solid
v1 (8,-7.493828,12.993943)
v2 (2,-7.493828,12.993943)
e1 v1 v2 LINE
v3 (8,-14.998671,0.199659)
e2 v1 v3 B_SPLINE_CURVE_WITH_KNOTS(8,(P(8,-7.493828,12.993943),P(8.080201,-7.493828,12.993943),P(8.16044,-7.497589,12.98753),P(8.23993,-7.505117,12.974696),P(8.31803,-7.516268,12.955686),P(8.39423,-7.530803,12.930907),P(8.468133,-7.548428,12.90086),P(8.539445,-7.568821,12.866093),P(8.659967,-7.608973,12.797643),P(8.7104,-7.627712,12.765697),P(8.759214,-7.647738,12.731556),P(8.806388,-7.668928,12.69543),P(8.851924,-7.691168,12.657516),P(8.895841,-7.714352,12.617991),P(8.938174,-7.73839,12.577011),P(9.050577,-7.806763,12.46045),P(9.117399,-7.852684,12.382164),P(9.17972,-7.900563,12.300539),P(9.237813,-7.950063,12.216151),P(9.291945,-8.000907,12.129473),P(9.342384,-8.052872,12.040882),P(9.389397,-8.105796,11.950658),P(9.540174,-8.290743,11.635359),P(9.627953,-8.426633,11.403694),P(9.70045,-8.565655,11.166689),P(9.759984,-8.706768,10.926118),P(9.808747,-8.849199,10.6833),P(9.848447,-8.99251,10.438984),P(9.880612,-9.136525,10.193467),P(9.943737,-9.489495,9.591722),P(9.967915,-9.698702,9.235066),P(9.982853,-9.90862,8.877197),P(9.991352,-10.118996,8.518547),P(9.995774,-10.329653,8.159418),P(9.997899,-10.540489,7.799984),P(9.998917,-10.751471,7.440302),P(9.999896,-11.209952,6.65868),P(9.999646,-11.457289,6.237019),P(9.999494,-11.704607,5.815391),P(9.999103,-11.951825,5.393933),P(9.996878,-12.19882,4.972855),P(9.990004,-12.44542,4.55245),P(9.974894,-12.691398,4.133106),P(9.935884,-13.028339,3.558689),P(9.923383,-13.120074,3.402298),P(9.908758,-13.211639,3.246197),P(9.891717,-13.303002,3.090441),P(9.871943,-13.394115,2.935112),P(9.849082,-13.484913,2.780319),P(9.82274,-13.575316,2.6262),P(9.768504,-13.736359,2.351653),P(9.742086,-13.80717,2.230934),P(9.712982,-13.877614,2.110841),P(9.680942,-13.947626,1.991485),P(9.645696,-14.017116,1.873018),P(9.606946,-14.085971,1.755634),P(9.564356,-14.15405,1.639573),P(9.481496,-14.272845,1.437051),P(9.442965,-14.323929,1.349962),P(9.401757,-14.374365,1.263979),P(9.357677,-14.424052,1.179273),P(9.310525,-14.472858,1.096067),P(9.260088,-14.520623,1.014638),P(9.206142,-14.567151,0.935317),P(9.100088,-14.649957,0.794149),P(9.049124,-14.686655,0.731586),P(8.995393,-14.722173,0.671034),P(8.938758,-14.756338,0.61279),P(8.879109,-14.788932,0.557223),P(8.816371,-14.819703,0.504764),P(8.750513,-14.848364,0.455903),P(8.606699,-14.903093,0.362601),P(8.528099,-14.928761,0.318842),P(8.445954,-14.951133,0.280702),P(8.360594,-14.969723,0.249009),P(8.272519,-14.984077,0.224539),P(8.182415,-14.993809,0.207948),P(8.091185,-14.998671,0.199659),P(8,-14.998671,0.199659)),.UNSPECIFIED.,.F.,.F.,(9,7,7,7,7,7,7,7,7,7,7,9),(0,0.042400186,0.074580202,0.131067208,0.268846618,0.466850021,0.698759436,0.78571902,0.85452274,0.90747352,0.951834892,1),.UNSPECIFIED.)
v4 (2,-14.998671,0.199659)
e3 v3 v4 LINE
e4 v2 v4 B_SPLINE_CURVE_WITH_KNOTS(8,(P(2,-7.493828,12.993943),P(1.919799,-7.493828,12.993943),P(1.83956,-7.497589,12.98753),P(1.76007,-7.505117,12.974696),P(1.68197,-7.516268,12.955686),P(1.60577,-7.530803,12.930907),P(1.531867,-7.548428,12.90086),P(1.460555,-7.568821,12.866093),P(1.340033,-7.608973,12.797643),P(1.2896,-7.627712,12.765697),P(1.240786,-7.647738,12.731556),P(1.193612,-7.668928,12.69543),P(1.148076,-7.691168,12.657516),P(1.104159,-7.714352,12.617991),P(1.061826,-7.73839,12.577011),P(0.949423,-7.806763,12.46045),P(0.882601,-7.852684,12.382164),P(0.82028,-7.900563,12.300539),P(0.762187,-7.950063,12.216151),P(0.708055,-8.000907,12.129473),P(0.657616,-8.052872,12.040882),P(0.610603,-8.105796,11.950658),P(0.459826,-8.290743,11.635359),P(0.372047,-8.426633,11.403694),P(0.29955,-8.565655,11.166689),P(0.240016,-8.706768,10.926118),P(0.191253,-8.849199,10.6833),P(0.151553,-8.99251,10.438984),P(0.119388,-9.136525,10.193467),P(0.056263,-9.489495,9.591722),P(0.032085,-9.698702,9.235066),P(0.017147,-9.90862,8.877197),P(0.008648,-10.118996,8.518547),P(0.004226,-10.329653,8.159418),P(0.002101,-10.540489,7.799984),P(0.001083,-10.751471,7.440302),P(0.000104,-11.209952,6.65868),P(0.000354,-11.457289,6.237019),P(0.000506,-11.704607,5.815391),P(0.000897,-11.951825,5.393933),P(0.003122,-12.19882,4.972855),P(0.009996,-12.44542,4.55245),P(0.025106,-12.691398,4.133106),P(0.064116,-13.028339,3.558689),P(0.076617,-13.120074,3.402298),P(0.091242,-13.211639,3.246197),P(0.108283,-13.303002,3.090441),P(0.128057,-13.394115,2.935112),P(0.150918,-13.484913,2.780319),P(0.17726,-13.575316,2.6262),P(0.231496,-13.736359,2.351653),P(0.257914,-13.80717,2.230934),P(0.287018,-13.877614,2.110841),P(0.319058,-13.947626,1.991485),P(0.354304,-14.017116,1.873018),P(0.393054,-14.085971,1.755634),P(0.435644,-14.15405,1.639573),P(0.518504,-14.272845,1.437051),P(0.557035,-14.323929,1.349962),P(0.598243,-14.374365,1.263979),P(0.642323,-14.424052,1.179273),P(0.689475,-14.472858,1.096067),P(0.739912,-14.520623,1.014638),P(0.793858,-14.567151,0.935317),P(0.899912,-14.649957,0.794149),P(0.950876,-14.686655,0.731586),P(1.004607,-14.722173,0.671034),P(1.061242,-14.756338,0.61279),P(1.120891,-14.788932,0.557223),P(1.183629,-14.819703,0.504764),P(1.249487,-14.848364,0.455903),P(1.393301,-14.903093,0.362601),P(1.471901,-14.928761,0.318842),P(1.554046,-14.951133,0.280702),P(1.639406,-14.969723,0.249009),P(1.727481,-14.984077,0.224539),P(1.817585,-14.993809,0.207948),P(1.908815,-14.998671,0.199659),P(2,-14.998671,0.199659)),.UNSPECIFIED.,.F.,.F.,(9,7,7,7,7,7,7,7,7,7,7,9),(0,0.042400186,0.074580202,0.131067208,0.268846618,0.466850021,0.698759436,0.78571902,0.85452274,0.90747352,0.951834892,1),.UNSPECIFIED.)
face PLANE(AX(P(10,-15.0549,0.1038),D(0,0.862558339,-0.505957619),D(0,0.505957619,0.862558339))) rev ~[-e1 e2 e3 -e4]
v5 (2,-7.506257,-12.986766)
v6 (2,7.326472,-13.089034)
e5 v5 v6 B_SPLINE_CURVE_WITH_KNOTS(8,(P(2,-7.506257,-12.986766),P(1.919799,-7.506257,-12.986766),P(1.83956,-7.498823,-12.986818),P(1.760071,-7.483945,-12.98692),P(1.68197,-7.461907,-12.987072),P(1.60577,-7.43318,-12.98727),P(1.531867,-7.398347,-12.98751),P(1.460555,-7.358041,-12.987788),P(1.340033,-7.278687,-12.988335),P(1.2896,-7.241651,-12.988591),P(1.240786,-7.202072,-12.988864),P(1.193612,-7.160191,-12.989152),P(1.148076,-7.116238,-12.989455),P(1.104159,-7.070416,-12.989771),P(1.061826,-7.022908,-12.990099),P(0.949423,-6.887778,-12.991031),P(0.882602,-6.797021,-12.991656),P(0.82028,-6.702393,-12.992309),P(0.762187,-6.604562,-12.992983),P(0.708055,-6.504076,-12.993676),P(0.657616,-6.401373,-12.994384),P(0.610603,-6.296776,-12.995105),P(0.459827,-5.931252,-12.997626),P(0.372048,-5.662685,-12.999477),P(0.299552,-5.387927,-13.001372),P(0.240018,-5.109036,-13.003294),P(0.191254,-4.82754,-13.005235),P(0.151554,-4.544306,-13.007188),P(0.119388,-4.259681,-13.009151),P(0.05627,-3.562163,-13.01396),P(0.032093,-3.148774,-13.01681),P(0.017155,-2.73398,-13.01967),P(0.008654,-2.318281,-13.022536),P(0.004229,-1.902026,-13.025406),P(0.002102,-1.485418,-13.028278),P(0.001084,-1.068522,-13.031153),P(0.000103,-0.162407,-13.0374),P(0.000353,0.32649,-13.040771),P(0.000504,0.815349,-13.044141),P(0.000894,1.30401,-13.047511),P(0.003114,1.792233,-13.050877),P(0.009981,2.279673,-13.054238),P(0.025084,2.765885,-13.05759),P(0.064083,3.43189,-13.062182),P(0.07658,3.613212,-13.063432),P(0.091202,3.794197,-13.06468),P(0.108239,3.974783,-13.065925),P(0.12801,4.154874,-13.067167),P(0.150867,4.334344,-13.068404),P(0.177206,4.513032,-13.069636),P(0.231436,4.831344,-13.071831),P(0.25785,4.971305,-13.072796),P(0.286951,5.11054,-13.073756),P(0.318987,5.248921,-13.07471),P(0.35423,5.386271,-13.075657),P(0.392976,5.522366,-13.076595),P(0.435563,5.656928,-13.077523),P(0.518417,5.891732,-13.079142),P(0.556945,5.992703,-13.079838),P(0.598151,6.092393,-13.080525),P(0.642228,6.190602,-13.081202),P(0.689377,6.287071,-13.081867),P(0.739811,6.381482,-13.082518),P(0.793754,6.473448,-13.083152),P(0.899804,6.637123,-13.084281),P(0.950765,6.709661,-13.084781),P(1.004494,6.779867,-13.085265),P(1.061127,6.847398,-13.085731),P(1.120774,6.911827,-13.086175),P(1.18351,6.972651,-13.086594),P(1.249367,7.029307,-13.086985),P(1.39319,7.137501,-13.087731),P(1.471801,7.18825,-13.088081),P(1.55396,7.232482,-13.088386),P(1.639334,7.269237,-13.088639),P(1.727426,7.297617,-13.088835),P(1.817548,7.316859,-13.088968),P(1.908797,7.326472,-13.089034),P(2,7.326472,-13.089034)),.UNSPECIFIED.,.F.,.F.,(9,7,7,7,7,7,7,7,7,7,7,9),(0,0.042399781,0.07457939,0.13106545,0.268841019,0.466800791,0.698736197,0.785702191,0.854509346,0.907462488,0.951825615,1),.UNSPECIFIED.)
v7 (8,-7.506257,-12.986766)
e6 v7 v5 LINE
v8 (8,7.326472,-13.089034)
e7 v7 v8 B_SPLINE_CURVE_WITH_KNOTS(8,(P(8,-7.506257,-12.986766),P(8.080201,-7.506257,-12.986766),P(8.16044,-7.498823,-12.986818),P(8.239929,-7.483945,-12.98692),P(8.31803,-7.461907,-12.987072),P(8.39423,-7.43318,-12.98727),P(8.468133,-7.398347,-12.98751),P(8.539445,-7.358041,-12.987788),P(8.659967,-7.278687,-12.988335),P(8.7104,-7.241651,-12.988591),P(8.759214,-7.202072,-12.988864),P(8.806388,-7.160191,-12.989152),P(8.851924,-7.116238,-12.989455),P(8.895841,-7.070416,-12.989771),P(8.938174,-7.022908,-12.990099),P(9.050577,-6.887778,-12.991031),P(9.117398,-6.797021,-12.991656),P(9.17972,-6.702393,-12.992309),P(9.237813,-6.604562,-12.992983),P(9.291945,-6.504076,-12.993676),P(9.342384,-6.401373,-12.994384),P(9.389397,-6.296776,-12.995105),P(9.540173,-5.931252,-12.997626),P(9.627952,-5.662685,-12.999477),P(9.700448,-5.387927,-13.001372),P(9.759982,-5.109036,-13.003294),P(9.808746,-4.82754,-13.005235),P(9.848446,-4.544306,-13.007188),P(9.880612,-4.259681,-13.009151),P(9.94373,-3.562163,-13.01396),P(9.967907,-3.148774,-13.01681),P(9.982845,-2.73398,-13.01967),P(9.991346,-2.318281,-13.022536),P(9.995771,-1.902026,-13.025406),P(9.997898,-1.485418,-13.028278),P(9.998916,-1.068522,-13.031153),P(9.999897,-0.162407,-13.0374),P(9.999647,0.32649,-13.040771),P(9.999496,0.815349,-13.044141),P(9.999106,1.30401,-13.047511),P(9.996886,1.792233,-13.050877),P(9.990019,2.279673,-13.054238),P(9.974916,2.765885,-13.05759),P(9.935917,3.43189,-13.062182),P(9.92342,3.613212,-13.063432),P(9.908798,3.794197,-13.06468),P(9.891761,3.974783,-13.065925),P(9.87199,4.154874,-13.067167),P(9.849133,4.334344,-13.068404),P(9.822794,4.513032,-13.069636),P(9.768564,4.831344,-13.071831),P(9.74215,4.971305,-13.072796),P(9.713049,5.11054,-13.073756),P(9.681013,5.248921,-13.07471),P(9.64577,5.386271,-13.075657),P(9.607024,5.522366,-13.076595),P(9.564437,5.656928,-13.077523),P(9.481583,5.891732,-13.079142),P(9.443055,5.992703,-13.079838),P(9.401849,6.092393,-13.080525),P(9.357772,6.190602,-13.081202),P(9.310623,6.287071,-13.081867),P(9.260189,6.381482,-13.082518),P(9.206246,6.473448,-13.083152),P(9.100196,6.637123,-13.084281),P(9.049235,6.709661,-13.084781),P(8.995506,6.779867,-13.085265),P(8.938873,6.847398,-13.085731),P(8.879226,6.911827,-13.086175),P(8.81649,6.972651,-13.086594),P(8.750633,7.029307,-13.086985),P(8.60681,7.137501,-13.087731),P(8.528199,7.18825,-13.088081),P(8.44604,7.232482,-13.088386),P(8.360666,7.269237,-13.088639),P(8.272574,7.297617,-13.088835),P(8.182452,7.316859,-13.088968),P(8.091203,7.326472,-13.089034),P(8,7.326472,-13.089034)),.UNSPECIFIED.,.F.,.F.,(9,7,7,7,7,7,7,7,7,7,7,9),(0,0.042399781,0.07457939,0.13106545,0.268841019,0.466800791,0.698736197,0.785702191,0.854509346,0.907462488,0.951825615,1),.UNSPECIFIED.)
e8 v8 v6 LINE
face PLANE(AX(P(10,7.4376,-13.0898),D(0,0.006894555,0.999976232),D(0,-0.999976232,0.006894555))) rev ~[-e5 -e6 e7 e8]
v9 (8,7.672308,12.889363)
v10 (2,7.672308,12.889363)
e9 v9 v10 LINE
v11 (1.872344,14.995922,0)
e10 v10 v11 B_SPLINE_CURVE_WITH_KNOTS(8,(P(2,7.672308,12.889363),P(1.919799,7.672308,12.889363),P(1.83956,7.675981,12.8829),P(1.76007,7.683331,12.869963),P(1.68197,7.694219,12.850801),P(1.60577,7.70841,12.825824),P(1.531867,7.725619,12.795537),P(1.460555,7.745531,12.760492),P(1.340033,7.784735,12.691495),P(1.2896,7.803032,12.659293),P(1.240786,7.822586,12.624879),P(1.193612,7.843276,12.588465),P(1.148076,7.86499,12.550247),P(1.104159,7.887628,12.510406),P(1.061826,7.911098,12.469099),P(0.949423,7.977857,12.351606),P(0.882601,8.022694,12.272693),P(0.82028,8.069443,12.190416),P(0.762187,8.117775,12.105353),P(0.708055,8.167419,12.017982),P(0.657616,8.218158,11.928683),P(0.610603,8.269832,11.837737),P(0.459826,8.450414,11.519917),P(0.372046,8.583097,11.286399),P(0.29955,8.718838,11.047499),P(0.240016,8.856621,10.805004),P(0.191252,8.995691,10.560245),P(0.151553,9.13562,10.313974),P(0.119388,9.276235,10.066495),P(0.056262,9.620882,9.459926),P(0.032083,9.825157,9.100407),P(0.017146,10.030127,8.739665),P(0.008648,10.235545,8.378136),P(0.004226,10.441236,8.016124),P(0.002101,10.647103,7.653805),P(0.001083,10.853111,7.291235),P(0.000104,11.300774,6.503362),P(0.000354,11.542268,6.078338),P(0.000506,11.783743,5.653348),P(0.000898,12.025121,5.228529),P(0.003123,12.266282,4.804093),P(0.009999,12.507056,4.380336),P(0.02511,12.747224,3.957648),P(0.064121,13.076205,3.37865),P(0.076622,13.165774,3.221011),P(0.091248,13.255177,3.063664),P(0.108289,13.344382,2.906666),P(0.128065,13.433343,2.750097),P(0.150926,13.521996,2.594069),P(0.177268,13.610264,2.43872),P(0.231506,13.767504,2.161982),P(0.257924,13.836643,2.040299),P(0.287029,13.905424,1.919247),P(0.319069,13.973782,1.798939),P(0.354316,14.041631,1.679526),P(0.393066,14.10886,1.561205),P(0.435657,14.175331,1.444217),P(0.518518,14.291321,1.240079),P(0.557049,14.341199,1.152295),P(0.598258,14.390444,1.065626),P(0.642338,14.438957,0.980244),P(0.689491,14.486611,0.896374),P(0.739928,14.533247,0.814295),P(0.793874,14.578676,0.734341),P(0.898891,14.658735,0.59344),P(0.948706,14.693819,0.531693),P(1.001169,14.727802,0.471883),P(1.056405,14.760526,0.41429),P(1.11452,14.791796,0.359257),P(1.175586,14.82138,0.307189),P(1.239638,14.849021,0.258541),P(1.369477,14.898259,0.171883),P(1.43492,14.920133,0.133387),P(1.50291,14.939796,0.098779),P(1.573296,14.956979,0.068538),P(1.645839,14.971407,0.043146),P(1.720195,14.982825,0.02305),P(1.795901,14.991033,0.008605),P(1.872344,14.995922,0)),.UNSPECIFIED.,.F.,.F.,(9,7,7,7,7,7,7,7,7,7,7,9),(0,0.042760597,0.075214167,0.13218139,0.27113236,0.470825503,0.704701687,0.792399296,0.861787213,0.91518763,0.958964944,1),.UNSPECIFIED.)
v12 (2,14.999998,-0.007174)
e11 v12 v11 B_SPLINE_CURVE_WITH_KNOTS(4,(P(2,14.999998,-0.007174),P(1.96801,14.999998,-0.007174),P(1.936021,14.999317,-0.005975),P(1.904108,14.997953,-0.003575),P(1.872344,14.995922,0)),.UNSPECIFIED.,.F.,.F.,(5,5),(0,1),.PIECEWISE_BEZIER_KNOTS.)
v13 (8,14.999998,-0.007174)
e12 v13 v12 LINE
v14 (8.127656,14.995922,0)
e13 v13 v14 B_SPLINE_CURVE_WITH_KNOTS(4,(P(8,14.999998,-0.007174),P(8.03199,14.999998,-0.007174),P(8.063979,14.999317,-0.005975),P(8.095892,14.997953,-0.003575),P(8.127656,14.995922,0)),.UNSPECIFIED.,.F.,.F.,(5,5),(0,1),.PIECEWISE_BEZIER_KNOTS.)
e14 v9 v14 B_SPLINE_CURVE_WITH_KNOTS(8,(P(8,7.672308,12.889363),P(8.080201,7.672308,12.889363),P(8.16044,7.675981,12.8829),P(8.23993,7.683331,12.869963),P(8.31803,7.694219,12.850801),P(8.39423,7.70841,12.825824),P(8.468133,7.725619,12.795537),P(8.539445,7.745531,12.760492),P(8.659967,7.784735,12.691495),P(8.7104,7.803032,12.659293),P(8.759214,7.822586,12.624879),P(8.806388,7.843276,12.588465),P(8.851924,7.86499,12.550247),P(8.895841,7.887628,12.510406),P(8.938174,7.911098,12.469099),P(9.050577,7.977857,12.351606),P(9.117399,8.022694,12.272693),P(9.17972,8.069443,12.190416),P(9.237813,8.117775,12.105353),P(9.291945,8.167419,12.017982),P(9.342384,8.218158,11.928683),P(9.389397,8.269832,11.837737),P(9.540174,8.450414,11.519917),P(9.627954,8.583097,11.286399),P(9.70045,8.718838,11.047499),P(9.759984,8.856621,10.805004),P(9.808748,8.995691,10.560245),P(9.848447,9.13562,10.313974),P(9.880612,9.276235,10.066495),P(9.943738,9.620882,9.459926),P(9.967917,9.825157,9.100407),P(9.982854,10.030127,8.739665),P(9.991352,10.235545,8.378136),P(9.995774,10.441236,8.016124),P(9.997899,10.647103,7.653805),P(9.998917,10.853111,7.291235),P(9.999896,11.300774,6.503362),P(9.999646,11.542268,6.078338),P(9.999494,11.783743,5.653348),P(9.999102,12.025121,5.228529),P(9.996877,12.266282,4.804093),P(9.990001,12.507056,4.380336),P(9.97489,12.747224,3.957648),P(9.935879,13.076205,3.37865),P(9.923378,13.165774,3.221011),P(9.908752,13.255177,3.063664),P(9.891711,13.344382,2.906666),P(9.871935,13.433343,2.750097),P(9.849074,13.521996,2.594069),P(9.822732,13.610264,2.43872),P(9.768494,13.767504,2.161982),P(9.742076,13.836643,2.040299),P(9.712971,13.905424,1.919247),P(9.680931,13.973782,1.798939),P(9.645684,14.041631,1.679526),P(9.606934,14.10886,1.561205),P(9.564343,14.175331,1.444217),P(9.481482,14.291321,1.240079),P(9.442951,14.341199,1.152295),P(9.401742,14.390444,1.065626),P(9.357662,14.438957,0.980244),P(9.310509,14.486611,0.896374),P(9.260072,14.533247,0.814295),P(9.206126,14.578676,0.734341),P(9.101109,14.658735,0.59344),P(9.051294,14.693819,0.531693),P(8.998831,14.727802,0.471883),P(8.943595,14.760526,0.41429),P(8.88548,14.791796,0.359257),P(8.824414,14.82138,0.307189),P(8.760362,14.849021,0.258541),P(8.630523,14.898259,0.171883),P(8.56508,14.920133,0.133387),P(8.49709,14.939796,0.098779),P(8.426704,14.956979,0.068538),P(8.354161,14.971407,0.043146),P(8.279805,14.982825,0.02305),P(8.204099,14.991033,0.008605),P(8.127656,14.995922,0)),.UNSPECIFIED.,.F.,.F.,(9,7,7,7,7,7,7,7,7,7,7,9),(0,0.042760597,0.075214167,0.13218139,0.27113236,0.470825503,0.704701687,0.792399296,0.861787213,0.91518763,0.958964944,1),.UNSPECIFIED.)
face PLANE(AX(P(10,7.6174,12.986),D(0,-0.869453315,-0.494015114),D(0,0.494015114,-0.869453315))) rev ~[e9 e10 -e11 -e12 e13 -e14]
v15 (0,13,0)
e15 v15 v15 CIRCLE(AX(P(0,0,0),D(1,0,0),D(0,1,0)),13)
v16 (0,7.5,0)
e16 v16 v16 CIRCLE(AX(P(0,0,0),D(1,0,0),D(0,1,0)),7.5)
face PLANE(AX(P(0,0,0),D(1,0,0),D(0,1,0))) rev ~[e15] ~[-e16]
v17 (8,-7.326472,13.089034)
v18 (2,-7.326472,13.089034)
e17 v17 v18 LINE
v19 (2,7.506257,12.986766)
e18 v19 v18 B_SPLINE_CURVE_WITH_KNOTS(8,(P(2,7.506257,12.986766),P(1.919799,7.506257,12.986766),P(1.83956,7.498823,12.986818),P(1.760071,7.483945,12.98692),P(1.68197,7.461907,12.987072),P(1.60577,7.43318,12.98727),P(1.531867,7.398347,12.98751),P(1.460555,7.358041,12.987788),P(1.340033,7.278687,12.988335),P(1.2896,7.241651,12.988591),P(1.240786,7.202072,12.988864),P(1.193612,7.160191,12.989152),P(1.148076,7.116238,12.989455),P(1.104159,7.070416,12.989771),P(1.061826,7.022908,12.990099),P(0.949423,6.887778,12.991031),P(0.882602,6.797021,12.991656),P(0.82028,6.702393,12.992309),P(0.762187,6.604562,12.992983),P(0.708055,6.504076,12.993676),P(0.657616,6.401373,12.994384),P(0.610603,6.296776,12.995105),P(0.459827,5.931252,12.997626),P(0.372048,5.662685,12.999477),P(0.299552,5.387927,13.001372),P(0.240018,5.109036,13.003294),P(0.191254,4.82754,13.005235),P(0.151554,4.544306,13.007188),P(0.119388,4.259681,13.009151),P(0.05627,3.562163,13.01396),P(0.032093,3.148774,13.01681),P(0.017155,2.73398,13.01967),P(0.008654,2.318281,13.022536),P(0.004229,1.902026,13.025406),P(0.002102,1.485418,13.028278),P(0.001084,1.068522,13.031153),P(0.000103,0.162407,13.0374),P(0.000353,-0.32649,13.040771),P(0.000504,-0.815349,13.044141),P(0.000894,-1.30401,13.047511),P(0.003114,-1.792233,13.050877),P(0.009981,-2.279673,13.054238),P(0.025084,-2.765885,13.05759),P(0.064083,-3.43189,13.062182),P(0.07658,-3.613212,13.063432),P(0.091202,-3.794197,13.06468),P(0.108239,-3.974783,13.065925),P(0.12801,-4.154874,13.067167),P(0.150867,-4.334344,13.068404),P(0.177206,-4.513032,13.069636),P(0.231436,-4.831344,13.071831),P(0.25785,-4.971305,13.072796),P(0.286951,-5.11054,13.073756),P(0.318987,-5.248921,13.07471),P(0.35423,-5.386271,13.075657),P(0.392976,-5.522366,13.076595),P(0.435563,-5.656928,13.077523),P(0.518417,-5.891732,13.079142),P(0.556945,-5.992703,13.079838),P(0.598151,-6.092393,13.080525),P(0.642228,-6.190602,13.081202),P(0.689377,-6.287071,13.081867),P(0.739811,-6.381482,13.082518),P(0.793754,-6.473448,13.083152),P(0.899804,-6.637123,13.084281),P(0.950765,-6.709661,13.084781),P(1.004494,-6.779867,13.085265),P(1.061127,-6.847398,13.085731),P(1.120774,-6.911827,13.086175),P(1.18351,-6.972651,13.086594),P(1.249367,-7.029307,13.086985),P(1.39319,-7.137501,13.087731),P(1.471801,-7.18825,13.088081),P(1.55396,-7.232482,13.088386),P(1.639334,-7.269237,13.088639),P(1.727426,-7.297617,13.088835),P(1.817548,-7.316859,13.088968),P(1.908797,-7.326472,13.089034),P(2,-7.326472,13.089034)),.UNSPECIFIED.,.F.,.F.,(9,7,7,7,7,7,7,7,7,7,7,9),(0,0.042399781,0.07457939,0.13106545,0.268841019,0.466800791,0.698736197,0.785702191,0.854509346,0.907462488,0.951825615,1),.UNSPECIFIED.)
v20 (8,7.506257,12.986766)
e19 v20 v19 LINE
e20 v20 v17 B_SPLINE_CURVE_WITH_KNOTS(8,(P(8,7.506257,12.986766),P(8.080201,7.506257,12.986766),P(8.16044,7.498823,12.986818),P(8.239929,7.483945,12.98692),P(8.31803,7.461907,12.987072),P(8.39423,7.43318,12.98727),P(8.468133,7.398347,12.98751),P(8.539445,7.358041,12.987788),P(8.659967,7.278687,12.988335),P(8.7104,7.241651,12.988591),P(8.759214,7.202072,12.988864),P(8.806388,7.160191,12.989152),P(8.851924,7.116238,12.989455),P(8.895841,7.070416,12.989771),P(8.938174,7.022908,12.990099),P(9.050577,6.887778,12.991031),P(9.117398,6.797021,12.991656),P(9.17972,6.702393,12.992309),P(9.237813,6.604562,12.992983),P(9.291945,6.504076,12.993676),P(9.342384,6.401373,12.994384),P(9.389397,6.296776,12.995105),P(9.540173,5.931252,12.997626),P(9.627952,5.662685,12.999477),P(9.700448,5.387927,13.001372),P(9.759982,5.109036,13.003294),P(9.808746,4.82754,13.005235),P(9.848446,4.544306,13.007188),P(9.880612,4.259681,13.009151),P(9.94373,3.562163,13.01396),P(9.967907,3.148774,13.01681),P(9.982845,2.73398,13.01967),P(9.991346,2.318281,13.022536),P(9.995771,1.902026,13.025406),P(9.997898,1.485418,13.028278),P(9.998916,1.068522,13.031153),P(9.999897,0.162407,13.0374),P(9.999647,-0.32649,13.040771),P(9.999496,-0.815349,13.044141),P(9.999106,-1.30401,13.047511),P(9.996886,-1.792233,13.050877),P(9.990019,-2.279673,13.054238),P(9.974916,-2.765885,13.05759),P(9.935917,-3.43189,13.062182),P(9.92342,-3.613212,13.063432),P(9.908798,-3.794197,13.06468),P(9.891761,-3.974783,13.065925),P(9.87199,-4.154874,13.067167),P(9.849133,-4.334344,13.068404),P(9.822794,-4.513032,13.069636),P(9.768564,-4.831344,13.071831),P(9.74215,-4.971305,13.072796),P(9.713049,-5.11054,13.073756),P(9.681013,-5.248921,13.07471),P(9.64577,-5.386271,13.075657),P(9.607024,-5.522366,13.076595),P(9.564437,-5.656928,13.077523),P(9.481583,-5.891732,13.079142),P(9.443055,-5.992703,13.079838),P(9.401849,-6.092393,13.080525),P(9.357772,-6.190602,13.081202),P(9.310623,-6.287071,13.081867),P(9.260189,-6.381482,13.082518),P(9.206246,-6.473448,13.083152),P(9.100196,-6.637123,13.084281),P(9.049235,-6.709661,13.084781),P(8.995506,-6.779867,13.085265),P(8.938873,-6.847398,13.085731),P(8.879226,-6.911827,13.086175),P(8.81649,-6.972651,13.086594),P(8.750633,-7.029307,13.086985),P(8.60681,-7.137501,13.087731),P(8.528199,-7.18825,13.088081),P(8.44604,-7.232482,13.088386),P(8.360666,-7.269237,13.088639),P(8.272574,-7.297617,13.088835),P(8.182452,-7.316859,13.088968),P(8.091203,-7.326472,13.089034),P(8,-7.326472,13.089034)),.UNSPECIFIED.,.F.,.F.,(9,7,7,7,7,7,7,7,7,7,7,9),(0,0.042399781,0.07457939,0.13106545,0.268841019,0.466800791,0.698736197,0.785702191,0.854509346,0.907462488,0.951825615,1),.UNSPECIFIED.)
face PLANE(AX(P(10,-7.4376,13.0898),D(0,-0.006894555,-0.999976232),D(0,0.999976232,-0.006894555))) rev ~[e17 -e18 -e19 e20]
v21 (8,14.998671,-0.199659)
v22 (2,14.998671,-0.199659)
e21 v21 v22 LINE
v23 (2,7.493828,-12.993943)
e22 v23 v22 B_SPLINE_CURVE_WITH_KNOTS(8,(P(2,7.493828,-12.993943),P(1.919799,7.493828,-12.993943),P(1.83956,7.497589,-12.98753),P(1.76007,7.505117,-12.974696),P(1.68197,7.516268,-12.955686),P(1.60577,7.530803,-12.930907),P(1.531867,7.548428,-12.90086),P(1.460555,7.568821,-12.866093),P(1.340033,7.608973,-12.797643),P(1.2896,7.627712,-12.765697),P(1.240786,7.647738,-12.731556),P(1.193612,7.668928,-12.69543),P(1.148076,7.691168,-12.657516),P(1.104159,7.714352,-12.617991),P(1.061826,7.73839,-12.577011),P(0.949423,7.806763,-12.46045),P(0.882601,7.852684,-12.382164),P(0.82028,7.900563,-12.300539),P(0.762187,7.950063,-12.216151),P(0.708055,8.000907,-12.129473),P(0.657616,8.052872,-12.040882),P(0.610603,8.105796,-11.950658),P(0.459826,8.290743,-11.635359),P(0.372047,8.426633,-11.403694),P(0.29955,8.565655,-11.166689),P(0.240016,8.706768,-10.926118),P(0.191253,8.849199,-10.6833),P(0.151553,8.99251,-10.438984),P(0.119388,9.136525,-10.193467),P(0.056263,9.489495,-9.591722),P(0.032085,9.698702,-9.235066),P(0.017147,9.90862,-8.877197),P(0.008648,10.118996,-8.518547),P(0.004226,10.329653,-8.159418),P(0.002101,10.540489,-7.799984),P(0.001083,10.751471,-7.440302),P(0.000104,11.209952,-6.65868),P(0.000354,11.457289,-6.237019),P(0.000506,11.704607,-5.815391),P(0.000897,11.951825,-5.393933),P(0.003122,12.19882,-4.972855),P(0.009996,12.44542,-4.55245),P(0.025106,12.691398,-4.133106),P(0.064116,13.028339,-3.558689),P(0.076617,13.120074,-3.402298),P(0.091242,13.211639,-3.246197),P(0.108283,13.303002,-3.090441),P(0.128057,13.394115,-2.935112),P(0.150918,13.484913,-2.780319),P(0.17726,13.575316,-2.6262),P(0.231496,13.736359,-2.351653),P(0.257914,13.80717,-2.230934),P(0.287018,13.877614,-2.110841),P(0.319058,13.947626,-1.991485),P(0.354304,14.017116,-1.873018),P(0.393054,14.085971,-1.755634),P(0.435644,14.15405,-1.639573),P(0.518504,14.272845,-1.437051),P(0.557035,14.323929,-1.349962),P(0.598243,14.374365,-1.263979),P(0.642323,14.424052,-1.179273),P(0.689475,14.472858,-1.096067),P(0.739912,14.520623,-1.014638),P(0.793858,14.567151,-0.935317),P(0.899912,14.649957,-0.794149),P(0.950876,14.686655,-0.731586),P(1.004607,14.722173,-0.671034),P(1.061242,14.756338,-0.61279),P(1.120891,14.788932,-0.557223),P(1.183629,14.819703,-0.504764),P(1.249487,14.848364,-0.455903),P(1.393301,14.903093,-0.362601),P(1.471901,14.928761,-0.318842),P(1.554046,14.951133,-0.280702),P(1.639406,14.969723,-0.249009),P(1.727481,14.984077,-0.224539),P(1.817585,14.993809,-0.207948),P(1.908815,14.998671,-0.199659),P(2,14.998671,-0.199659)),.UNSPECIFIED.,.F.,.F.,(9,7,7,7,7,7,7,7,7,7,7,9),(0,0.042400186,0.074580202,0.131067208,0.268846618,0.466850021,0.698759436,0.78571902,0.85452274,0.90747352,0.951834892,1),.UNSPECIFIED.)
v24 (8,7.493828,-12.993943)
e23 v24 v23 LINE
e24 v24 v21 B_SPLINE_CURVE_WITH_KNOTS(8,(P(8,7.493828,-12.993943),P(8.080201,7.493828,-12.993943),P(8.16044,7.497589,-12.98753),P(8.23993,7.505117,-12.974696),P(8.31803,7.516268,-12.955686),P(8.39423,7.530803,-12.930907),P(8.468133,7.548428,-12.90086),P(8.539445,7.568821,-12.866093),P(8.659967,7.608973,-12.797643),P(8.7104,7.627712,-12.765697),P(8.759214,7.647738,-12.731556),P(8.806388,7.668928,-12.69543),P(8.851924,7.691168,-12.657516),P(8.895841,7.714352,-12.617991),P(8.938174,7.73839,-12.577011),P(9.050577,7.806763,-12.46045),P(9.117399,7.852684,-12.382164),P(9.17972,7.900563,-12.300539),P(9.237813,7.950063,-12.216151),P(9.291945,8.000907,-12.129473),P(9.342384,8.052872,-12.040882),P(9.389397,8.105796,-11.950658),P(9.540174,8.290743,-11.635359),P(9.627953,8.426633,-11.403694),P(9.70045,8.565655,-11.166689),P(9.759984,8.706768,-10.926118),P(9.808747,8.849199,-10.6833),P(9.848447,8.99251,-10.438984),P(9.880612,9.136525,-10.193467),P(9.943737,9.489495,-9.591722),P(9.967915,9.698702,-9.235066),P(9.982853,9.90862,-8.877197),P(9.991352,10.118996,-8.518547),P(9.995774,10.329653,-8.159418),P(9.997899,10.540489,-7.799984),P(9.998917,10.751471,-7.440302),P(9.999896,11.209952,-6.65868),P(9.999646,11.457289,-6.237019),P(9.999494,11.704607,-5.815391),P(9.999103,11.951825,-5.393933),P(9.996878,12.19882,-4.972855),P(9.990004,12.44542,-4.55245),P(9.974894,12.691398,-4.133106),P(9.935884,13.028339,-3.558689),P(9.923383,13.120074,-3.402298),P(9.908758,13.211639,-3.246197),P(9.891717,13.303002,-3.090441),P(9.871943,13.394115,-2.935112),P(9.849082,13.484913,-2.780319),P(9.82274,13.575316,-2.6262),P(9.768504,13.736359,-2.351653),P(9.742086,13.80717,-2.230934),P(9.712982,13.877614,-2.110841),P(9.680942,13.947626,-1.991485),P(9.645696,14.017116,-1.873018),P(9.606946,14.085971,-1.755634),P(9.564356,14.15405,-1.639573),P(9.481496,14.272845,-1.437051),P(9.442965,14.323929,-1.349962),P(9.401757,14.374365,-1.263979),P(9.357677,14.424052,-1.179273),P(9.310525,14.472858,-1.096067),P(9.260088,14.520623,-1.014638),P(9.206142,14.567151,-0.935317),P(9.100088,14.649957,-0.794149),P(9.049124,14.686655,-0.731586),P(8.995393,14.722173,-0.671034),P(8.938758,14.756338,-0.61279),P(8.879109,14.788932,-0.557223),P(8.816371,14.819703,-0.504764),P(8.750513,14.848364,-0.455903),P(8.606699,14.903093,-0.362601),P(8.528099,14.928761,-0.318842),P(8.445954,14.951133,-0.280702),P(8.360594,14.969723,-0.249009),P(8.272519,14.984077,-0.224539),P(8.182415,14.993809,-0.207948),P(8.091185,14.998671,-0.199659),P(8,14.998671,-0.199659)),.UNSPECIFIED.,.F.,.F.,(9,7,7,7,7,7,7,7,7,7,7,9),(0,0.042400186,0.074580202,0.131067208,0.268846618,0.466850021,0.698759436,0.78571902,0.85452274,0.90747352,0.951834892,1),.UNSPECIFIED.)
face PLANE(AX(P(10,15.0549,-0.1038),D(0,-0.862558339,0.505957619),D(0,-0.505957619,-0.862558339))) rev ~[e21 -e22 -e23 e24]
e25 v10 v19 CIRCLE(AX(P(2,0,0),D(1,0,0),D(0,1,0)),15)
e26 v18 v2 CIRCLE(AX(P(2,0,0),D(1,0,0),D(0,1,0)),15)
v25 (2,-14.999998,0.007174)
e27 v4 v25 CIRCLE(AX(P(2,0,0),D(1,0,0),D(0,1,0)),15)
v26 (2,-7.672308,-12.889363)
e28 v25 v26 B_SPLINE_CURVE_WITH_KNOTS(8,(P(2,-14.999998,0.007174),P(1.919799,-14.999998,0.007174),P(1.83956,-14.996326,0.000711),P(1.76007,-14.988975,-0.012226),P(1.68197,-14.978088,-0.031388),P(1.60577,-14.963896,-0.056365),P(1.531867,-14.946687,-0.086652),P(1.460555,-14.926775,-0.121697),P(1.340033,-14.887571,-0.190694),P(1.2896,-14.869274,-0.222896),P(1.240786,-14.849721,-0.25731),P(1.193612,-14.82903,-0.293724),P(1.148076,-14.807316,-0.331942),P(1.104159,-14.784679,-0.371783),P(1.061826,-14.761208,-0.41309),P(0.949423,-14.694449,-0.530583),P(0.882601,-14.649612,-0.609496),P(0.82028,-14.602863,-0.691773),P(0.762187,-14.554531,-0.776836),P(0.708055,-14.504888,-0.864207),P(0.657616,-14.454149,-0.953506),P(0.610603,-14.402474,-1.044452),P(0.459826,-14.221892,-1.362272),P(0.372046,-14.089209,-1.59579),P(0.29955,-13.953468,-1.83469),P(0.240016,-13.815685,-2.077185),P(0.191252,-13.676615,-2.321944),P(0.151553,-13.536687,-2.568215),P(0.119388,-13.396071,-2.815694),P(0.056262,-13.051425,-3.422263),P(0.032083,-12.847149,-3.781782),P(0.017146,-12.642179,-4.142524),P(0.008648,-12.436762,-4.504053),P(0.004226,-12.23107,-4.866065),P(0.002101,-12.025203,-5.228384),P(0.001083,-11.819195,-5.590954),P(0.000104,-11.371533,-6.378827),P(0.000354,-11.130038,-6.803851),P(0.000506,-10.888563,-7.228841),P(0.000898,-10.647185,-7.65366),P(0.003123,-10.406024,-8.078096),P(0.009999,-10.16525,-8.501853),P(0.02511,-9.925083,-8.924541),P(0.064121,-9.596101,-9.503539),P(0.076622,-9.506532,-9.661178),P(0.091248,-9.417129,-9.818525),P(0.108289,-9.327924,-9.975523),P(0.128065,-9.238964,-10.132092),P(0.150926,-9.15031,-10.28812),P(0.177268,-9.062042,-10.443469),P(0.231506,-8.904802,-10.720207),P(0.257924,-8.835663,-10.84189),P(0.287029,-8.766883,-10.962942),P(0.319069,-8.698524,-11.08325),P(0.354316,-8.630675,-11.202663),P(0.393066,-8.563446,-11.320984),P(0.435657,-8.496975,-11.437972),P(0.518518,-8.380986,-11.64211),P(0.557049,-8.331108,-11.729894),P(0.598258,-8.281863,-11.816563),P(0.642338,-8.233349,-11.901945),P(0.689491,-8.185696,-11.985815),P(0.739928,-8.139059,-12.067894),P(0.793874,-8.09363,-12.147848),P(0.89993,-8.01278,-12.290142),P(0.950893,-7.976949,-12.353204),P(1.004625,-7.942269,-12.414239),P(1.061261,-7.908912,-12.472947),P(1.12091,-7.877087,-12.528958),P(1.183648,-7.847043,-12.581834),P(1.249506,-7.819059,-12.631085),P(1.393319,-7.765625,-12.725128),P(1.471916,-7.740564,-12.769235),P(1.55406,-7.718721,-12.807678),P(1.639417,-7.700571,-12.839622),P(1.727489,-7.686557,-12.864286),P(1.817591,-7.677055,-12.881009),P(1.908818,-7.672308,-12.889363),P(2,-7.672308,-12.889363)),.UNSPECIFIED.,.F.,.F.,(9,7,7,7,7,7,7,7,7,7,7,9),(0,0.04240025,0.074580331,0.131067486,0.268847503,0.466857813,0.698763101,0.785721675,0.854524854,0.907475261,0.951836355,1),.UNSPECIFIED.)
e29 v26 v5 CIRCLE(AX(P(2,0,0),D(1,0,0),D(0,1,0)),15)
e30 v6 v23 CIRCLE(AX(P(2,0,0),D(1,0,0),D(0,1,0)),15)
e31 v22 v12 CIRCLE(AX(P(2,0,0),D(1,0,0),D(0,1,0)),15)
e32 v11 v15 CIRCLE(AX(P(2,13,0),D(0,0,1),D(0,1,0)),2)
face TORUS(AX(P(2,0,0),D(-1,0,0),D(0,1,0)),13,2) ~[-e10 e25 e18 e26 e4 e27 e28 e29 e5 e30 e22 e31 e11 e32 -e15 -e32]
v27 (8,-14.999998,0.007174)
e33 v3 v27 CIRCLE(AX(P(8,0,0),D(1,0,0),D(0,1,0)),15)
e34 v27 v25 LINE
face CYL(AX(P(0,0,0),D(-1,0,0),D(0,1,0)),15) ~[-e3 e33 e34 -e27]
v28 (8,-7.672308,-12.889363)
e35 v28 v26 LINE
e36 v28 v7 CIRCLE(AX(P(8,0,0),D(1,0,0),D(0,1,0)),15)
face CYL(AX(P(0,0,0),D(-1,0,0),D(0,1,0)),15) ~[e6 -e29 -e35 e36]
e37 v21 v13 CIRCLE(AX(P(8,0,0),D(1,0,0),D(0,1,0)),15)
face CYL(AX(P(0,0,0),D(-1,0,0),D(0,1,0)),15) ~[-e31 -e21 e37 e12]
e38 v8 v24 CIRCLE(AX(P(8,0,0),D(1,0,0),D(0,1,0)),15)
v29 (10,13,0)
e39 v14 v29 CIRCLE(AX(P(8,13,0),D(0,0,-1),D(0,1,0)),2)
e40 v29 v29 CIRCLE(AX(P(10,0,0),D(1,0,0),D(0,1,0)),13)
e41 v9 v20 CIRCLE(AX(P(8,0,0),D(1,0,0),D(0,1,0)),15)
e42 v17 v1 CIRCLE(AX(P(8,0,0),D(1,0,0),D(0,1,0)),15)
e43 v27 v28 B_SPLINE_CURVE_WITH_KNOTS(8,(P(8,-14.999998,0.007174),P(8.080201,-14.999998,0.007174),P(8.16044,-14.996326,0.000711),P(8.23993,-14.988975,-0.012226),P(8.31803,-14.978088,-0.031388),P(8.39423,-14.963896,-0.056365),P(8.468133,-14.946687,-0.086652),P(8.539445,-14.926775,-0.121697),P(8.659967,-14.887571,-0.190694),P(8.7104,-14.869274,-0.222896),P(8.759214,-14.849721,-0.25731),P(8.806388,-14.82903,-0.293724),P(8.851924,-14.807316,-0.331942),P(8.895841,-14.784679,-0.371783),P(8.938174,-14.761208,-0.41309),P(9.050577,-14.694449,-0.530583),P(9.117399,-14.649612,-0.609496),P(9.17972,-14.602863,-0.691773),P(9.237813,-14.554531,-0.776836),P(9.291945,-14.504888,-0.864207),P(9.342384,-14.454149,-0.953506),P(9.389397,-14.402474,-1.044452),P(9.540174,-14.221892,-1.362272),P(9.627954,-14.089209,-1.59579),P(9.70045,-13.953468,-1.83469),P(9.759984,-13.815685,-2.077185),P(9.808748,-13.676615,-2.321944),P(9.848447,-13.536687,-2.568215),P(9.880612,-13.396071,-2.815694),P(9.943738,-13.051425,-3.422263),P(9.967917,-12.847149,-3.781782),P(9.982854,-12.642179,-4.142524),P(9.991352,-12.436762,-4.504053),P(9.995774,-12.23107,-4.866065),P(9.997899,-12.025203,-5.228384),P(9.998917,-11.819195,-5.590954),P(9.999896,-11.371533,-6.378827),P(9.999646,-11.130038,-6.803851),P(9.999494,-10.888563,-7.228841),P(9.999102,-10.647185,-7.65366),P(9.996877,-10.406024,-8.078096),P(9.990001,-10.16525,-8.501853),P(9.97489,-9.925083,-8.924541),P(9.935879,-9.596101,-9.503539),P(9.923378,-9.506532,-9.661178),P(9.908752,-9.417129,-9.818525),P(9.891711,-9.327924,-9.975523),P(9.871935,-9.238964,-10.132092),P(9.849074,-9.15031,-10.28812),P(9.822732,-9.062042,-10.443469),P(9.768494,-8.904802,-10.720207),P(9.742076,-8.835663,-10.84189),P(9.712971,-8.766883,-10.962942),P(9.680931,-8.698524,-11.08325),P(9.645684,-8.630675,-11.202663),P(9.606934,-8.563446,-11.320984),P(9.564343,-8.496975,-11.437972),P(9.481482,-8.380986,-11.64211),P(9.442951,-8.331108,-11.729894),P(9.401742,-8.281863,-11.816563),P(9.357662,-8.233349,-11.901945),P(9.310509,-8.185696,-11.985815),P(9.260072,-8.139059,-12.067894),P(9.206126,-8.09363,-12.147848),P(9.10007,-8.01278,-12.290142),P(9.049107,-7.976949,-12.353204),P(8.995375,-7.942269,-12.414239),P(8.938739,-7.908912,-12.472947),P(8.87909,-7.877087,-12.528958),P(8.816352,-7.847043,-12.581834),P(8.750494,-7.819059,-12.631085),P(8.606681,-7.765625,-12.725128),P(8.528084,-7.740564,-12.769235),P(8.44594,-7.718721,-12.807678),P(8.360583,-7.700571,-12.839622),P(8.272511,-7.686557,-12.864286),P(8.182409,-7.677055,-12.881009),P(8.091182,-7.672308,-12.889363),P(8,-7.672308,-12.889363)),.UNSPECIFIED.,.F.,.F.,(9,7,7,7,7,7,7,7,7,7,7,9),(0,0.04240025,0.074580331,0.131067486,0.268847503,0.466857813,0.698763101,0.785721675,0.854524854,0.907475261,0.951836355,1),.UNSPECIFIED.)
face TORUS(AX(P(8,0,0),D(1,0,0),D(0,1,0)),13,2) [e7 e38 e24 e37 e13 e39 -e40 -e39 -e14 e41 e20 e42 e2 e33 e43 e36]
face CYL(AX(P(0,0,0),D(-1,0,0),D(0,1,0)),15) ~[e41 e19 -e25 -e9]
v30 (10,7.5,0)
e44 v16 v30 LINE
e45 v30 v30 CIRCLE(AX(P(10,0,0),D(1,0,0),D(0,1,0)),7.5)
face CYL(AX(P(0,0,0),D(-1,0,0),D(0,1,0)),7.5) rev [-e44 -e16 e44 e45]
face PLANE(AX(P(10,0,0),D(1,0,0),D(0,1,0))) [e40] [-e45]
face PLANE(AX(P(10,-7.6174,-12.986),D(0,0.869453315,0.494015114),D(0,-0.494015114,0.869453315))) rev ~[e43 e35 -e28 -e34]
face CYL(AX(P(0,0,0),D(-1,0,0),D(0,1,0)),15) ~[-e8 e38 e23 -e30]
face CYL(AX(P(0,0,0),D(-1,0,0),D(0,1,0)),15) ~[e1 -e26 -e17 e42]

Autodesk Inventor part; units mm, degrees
ref_plane "YZ Plane" through (0, 0, 0) normal (1, 0, 0) x (0, 1, 0)
ref_plane "XZ Plane" through (0, 0, 0) normal (0, 1, 0) x (-1, 0, 0)
ref_plane "XY Plane" through (0, 0, 0) normal (0, 0, 1) x (1, 0, 0)
sketch "Sketch4" plane through (0, 0, 0) normal (1, 0, 0) x (0, 1, 0)
  circle A0 centre (0, 0) radius 7.5
  circle A1 centre (0, 0) radius 15
  dimension "d12" = 15
  dimension "d13" = 30
extrude "Extrusion3" add sketch "Sketch4" along normal blind 10
fillet "Fillet1" radius 2 2 edges at (10, -15, 0) (0, -15, 0)
sketch "Sketch6" plane through (10, 0, 0) normal (1, 0, 0) x (0, 0, -1)
  line L0 (-12.986, 7.6174) -> (0.1038, 15.0549)
  line L1 (0.1038, 15.0549) -> (13.0898, 7.4376)
  line L2 (13.0898, 7.4376) -> (12.986, -7.6174)
  line L3 (12.986, -7.6174) -> (-0.1038, -15.0549)
  line L4 (-0.1038, -15.0549) -> (-13.0898, -7.4376)
  line L5 (-13.0898, -7.4376) -> (-12.986, 7.6174)
  circle A0 centre (0, 0) radius 17.8514
  circle A1 centre (0, 0) radius 7.5945
extrude "Extrusion4" cut sketch "Sketch6" against normal blind 10 contours A0
properties part number "Nut" material "Steel, Carbon"
